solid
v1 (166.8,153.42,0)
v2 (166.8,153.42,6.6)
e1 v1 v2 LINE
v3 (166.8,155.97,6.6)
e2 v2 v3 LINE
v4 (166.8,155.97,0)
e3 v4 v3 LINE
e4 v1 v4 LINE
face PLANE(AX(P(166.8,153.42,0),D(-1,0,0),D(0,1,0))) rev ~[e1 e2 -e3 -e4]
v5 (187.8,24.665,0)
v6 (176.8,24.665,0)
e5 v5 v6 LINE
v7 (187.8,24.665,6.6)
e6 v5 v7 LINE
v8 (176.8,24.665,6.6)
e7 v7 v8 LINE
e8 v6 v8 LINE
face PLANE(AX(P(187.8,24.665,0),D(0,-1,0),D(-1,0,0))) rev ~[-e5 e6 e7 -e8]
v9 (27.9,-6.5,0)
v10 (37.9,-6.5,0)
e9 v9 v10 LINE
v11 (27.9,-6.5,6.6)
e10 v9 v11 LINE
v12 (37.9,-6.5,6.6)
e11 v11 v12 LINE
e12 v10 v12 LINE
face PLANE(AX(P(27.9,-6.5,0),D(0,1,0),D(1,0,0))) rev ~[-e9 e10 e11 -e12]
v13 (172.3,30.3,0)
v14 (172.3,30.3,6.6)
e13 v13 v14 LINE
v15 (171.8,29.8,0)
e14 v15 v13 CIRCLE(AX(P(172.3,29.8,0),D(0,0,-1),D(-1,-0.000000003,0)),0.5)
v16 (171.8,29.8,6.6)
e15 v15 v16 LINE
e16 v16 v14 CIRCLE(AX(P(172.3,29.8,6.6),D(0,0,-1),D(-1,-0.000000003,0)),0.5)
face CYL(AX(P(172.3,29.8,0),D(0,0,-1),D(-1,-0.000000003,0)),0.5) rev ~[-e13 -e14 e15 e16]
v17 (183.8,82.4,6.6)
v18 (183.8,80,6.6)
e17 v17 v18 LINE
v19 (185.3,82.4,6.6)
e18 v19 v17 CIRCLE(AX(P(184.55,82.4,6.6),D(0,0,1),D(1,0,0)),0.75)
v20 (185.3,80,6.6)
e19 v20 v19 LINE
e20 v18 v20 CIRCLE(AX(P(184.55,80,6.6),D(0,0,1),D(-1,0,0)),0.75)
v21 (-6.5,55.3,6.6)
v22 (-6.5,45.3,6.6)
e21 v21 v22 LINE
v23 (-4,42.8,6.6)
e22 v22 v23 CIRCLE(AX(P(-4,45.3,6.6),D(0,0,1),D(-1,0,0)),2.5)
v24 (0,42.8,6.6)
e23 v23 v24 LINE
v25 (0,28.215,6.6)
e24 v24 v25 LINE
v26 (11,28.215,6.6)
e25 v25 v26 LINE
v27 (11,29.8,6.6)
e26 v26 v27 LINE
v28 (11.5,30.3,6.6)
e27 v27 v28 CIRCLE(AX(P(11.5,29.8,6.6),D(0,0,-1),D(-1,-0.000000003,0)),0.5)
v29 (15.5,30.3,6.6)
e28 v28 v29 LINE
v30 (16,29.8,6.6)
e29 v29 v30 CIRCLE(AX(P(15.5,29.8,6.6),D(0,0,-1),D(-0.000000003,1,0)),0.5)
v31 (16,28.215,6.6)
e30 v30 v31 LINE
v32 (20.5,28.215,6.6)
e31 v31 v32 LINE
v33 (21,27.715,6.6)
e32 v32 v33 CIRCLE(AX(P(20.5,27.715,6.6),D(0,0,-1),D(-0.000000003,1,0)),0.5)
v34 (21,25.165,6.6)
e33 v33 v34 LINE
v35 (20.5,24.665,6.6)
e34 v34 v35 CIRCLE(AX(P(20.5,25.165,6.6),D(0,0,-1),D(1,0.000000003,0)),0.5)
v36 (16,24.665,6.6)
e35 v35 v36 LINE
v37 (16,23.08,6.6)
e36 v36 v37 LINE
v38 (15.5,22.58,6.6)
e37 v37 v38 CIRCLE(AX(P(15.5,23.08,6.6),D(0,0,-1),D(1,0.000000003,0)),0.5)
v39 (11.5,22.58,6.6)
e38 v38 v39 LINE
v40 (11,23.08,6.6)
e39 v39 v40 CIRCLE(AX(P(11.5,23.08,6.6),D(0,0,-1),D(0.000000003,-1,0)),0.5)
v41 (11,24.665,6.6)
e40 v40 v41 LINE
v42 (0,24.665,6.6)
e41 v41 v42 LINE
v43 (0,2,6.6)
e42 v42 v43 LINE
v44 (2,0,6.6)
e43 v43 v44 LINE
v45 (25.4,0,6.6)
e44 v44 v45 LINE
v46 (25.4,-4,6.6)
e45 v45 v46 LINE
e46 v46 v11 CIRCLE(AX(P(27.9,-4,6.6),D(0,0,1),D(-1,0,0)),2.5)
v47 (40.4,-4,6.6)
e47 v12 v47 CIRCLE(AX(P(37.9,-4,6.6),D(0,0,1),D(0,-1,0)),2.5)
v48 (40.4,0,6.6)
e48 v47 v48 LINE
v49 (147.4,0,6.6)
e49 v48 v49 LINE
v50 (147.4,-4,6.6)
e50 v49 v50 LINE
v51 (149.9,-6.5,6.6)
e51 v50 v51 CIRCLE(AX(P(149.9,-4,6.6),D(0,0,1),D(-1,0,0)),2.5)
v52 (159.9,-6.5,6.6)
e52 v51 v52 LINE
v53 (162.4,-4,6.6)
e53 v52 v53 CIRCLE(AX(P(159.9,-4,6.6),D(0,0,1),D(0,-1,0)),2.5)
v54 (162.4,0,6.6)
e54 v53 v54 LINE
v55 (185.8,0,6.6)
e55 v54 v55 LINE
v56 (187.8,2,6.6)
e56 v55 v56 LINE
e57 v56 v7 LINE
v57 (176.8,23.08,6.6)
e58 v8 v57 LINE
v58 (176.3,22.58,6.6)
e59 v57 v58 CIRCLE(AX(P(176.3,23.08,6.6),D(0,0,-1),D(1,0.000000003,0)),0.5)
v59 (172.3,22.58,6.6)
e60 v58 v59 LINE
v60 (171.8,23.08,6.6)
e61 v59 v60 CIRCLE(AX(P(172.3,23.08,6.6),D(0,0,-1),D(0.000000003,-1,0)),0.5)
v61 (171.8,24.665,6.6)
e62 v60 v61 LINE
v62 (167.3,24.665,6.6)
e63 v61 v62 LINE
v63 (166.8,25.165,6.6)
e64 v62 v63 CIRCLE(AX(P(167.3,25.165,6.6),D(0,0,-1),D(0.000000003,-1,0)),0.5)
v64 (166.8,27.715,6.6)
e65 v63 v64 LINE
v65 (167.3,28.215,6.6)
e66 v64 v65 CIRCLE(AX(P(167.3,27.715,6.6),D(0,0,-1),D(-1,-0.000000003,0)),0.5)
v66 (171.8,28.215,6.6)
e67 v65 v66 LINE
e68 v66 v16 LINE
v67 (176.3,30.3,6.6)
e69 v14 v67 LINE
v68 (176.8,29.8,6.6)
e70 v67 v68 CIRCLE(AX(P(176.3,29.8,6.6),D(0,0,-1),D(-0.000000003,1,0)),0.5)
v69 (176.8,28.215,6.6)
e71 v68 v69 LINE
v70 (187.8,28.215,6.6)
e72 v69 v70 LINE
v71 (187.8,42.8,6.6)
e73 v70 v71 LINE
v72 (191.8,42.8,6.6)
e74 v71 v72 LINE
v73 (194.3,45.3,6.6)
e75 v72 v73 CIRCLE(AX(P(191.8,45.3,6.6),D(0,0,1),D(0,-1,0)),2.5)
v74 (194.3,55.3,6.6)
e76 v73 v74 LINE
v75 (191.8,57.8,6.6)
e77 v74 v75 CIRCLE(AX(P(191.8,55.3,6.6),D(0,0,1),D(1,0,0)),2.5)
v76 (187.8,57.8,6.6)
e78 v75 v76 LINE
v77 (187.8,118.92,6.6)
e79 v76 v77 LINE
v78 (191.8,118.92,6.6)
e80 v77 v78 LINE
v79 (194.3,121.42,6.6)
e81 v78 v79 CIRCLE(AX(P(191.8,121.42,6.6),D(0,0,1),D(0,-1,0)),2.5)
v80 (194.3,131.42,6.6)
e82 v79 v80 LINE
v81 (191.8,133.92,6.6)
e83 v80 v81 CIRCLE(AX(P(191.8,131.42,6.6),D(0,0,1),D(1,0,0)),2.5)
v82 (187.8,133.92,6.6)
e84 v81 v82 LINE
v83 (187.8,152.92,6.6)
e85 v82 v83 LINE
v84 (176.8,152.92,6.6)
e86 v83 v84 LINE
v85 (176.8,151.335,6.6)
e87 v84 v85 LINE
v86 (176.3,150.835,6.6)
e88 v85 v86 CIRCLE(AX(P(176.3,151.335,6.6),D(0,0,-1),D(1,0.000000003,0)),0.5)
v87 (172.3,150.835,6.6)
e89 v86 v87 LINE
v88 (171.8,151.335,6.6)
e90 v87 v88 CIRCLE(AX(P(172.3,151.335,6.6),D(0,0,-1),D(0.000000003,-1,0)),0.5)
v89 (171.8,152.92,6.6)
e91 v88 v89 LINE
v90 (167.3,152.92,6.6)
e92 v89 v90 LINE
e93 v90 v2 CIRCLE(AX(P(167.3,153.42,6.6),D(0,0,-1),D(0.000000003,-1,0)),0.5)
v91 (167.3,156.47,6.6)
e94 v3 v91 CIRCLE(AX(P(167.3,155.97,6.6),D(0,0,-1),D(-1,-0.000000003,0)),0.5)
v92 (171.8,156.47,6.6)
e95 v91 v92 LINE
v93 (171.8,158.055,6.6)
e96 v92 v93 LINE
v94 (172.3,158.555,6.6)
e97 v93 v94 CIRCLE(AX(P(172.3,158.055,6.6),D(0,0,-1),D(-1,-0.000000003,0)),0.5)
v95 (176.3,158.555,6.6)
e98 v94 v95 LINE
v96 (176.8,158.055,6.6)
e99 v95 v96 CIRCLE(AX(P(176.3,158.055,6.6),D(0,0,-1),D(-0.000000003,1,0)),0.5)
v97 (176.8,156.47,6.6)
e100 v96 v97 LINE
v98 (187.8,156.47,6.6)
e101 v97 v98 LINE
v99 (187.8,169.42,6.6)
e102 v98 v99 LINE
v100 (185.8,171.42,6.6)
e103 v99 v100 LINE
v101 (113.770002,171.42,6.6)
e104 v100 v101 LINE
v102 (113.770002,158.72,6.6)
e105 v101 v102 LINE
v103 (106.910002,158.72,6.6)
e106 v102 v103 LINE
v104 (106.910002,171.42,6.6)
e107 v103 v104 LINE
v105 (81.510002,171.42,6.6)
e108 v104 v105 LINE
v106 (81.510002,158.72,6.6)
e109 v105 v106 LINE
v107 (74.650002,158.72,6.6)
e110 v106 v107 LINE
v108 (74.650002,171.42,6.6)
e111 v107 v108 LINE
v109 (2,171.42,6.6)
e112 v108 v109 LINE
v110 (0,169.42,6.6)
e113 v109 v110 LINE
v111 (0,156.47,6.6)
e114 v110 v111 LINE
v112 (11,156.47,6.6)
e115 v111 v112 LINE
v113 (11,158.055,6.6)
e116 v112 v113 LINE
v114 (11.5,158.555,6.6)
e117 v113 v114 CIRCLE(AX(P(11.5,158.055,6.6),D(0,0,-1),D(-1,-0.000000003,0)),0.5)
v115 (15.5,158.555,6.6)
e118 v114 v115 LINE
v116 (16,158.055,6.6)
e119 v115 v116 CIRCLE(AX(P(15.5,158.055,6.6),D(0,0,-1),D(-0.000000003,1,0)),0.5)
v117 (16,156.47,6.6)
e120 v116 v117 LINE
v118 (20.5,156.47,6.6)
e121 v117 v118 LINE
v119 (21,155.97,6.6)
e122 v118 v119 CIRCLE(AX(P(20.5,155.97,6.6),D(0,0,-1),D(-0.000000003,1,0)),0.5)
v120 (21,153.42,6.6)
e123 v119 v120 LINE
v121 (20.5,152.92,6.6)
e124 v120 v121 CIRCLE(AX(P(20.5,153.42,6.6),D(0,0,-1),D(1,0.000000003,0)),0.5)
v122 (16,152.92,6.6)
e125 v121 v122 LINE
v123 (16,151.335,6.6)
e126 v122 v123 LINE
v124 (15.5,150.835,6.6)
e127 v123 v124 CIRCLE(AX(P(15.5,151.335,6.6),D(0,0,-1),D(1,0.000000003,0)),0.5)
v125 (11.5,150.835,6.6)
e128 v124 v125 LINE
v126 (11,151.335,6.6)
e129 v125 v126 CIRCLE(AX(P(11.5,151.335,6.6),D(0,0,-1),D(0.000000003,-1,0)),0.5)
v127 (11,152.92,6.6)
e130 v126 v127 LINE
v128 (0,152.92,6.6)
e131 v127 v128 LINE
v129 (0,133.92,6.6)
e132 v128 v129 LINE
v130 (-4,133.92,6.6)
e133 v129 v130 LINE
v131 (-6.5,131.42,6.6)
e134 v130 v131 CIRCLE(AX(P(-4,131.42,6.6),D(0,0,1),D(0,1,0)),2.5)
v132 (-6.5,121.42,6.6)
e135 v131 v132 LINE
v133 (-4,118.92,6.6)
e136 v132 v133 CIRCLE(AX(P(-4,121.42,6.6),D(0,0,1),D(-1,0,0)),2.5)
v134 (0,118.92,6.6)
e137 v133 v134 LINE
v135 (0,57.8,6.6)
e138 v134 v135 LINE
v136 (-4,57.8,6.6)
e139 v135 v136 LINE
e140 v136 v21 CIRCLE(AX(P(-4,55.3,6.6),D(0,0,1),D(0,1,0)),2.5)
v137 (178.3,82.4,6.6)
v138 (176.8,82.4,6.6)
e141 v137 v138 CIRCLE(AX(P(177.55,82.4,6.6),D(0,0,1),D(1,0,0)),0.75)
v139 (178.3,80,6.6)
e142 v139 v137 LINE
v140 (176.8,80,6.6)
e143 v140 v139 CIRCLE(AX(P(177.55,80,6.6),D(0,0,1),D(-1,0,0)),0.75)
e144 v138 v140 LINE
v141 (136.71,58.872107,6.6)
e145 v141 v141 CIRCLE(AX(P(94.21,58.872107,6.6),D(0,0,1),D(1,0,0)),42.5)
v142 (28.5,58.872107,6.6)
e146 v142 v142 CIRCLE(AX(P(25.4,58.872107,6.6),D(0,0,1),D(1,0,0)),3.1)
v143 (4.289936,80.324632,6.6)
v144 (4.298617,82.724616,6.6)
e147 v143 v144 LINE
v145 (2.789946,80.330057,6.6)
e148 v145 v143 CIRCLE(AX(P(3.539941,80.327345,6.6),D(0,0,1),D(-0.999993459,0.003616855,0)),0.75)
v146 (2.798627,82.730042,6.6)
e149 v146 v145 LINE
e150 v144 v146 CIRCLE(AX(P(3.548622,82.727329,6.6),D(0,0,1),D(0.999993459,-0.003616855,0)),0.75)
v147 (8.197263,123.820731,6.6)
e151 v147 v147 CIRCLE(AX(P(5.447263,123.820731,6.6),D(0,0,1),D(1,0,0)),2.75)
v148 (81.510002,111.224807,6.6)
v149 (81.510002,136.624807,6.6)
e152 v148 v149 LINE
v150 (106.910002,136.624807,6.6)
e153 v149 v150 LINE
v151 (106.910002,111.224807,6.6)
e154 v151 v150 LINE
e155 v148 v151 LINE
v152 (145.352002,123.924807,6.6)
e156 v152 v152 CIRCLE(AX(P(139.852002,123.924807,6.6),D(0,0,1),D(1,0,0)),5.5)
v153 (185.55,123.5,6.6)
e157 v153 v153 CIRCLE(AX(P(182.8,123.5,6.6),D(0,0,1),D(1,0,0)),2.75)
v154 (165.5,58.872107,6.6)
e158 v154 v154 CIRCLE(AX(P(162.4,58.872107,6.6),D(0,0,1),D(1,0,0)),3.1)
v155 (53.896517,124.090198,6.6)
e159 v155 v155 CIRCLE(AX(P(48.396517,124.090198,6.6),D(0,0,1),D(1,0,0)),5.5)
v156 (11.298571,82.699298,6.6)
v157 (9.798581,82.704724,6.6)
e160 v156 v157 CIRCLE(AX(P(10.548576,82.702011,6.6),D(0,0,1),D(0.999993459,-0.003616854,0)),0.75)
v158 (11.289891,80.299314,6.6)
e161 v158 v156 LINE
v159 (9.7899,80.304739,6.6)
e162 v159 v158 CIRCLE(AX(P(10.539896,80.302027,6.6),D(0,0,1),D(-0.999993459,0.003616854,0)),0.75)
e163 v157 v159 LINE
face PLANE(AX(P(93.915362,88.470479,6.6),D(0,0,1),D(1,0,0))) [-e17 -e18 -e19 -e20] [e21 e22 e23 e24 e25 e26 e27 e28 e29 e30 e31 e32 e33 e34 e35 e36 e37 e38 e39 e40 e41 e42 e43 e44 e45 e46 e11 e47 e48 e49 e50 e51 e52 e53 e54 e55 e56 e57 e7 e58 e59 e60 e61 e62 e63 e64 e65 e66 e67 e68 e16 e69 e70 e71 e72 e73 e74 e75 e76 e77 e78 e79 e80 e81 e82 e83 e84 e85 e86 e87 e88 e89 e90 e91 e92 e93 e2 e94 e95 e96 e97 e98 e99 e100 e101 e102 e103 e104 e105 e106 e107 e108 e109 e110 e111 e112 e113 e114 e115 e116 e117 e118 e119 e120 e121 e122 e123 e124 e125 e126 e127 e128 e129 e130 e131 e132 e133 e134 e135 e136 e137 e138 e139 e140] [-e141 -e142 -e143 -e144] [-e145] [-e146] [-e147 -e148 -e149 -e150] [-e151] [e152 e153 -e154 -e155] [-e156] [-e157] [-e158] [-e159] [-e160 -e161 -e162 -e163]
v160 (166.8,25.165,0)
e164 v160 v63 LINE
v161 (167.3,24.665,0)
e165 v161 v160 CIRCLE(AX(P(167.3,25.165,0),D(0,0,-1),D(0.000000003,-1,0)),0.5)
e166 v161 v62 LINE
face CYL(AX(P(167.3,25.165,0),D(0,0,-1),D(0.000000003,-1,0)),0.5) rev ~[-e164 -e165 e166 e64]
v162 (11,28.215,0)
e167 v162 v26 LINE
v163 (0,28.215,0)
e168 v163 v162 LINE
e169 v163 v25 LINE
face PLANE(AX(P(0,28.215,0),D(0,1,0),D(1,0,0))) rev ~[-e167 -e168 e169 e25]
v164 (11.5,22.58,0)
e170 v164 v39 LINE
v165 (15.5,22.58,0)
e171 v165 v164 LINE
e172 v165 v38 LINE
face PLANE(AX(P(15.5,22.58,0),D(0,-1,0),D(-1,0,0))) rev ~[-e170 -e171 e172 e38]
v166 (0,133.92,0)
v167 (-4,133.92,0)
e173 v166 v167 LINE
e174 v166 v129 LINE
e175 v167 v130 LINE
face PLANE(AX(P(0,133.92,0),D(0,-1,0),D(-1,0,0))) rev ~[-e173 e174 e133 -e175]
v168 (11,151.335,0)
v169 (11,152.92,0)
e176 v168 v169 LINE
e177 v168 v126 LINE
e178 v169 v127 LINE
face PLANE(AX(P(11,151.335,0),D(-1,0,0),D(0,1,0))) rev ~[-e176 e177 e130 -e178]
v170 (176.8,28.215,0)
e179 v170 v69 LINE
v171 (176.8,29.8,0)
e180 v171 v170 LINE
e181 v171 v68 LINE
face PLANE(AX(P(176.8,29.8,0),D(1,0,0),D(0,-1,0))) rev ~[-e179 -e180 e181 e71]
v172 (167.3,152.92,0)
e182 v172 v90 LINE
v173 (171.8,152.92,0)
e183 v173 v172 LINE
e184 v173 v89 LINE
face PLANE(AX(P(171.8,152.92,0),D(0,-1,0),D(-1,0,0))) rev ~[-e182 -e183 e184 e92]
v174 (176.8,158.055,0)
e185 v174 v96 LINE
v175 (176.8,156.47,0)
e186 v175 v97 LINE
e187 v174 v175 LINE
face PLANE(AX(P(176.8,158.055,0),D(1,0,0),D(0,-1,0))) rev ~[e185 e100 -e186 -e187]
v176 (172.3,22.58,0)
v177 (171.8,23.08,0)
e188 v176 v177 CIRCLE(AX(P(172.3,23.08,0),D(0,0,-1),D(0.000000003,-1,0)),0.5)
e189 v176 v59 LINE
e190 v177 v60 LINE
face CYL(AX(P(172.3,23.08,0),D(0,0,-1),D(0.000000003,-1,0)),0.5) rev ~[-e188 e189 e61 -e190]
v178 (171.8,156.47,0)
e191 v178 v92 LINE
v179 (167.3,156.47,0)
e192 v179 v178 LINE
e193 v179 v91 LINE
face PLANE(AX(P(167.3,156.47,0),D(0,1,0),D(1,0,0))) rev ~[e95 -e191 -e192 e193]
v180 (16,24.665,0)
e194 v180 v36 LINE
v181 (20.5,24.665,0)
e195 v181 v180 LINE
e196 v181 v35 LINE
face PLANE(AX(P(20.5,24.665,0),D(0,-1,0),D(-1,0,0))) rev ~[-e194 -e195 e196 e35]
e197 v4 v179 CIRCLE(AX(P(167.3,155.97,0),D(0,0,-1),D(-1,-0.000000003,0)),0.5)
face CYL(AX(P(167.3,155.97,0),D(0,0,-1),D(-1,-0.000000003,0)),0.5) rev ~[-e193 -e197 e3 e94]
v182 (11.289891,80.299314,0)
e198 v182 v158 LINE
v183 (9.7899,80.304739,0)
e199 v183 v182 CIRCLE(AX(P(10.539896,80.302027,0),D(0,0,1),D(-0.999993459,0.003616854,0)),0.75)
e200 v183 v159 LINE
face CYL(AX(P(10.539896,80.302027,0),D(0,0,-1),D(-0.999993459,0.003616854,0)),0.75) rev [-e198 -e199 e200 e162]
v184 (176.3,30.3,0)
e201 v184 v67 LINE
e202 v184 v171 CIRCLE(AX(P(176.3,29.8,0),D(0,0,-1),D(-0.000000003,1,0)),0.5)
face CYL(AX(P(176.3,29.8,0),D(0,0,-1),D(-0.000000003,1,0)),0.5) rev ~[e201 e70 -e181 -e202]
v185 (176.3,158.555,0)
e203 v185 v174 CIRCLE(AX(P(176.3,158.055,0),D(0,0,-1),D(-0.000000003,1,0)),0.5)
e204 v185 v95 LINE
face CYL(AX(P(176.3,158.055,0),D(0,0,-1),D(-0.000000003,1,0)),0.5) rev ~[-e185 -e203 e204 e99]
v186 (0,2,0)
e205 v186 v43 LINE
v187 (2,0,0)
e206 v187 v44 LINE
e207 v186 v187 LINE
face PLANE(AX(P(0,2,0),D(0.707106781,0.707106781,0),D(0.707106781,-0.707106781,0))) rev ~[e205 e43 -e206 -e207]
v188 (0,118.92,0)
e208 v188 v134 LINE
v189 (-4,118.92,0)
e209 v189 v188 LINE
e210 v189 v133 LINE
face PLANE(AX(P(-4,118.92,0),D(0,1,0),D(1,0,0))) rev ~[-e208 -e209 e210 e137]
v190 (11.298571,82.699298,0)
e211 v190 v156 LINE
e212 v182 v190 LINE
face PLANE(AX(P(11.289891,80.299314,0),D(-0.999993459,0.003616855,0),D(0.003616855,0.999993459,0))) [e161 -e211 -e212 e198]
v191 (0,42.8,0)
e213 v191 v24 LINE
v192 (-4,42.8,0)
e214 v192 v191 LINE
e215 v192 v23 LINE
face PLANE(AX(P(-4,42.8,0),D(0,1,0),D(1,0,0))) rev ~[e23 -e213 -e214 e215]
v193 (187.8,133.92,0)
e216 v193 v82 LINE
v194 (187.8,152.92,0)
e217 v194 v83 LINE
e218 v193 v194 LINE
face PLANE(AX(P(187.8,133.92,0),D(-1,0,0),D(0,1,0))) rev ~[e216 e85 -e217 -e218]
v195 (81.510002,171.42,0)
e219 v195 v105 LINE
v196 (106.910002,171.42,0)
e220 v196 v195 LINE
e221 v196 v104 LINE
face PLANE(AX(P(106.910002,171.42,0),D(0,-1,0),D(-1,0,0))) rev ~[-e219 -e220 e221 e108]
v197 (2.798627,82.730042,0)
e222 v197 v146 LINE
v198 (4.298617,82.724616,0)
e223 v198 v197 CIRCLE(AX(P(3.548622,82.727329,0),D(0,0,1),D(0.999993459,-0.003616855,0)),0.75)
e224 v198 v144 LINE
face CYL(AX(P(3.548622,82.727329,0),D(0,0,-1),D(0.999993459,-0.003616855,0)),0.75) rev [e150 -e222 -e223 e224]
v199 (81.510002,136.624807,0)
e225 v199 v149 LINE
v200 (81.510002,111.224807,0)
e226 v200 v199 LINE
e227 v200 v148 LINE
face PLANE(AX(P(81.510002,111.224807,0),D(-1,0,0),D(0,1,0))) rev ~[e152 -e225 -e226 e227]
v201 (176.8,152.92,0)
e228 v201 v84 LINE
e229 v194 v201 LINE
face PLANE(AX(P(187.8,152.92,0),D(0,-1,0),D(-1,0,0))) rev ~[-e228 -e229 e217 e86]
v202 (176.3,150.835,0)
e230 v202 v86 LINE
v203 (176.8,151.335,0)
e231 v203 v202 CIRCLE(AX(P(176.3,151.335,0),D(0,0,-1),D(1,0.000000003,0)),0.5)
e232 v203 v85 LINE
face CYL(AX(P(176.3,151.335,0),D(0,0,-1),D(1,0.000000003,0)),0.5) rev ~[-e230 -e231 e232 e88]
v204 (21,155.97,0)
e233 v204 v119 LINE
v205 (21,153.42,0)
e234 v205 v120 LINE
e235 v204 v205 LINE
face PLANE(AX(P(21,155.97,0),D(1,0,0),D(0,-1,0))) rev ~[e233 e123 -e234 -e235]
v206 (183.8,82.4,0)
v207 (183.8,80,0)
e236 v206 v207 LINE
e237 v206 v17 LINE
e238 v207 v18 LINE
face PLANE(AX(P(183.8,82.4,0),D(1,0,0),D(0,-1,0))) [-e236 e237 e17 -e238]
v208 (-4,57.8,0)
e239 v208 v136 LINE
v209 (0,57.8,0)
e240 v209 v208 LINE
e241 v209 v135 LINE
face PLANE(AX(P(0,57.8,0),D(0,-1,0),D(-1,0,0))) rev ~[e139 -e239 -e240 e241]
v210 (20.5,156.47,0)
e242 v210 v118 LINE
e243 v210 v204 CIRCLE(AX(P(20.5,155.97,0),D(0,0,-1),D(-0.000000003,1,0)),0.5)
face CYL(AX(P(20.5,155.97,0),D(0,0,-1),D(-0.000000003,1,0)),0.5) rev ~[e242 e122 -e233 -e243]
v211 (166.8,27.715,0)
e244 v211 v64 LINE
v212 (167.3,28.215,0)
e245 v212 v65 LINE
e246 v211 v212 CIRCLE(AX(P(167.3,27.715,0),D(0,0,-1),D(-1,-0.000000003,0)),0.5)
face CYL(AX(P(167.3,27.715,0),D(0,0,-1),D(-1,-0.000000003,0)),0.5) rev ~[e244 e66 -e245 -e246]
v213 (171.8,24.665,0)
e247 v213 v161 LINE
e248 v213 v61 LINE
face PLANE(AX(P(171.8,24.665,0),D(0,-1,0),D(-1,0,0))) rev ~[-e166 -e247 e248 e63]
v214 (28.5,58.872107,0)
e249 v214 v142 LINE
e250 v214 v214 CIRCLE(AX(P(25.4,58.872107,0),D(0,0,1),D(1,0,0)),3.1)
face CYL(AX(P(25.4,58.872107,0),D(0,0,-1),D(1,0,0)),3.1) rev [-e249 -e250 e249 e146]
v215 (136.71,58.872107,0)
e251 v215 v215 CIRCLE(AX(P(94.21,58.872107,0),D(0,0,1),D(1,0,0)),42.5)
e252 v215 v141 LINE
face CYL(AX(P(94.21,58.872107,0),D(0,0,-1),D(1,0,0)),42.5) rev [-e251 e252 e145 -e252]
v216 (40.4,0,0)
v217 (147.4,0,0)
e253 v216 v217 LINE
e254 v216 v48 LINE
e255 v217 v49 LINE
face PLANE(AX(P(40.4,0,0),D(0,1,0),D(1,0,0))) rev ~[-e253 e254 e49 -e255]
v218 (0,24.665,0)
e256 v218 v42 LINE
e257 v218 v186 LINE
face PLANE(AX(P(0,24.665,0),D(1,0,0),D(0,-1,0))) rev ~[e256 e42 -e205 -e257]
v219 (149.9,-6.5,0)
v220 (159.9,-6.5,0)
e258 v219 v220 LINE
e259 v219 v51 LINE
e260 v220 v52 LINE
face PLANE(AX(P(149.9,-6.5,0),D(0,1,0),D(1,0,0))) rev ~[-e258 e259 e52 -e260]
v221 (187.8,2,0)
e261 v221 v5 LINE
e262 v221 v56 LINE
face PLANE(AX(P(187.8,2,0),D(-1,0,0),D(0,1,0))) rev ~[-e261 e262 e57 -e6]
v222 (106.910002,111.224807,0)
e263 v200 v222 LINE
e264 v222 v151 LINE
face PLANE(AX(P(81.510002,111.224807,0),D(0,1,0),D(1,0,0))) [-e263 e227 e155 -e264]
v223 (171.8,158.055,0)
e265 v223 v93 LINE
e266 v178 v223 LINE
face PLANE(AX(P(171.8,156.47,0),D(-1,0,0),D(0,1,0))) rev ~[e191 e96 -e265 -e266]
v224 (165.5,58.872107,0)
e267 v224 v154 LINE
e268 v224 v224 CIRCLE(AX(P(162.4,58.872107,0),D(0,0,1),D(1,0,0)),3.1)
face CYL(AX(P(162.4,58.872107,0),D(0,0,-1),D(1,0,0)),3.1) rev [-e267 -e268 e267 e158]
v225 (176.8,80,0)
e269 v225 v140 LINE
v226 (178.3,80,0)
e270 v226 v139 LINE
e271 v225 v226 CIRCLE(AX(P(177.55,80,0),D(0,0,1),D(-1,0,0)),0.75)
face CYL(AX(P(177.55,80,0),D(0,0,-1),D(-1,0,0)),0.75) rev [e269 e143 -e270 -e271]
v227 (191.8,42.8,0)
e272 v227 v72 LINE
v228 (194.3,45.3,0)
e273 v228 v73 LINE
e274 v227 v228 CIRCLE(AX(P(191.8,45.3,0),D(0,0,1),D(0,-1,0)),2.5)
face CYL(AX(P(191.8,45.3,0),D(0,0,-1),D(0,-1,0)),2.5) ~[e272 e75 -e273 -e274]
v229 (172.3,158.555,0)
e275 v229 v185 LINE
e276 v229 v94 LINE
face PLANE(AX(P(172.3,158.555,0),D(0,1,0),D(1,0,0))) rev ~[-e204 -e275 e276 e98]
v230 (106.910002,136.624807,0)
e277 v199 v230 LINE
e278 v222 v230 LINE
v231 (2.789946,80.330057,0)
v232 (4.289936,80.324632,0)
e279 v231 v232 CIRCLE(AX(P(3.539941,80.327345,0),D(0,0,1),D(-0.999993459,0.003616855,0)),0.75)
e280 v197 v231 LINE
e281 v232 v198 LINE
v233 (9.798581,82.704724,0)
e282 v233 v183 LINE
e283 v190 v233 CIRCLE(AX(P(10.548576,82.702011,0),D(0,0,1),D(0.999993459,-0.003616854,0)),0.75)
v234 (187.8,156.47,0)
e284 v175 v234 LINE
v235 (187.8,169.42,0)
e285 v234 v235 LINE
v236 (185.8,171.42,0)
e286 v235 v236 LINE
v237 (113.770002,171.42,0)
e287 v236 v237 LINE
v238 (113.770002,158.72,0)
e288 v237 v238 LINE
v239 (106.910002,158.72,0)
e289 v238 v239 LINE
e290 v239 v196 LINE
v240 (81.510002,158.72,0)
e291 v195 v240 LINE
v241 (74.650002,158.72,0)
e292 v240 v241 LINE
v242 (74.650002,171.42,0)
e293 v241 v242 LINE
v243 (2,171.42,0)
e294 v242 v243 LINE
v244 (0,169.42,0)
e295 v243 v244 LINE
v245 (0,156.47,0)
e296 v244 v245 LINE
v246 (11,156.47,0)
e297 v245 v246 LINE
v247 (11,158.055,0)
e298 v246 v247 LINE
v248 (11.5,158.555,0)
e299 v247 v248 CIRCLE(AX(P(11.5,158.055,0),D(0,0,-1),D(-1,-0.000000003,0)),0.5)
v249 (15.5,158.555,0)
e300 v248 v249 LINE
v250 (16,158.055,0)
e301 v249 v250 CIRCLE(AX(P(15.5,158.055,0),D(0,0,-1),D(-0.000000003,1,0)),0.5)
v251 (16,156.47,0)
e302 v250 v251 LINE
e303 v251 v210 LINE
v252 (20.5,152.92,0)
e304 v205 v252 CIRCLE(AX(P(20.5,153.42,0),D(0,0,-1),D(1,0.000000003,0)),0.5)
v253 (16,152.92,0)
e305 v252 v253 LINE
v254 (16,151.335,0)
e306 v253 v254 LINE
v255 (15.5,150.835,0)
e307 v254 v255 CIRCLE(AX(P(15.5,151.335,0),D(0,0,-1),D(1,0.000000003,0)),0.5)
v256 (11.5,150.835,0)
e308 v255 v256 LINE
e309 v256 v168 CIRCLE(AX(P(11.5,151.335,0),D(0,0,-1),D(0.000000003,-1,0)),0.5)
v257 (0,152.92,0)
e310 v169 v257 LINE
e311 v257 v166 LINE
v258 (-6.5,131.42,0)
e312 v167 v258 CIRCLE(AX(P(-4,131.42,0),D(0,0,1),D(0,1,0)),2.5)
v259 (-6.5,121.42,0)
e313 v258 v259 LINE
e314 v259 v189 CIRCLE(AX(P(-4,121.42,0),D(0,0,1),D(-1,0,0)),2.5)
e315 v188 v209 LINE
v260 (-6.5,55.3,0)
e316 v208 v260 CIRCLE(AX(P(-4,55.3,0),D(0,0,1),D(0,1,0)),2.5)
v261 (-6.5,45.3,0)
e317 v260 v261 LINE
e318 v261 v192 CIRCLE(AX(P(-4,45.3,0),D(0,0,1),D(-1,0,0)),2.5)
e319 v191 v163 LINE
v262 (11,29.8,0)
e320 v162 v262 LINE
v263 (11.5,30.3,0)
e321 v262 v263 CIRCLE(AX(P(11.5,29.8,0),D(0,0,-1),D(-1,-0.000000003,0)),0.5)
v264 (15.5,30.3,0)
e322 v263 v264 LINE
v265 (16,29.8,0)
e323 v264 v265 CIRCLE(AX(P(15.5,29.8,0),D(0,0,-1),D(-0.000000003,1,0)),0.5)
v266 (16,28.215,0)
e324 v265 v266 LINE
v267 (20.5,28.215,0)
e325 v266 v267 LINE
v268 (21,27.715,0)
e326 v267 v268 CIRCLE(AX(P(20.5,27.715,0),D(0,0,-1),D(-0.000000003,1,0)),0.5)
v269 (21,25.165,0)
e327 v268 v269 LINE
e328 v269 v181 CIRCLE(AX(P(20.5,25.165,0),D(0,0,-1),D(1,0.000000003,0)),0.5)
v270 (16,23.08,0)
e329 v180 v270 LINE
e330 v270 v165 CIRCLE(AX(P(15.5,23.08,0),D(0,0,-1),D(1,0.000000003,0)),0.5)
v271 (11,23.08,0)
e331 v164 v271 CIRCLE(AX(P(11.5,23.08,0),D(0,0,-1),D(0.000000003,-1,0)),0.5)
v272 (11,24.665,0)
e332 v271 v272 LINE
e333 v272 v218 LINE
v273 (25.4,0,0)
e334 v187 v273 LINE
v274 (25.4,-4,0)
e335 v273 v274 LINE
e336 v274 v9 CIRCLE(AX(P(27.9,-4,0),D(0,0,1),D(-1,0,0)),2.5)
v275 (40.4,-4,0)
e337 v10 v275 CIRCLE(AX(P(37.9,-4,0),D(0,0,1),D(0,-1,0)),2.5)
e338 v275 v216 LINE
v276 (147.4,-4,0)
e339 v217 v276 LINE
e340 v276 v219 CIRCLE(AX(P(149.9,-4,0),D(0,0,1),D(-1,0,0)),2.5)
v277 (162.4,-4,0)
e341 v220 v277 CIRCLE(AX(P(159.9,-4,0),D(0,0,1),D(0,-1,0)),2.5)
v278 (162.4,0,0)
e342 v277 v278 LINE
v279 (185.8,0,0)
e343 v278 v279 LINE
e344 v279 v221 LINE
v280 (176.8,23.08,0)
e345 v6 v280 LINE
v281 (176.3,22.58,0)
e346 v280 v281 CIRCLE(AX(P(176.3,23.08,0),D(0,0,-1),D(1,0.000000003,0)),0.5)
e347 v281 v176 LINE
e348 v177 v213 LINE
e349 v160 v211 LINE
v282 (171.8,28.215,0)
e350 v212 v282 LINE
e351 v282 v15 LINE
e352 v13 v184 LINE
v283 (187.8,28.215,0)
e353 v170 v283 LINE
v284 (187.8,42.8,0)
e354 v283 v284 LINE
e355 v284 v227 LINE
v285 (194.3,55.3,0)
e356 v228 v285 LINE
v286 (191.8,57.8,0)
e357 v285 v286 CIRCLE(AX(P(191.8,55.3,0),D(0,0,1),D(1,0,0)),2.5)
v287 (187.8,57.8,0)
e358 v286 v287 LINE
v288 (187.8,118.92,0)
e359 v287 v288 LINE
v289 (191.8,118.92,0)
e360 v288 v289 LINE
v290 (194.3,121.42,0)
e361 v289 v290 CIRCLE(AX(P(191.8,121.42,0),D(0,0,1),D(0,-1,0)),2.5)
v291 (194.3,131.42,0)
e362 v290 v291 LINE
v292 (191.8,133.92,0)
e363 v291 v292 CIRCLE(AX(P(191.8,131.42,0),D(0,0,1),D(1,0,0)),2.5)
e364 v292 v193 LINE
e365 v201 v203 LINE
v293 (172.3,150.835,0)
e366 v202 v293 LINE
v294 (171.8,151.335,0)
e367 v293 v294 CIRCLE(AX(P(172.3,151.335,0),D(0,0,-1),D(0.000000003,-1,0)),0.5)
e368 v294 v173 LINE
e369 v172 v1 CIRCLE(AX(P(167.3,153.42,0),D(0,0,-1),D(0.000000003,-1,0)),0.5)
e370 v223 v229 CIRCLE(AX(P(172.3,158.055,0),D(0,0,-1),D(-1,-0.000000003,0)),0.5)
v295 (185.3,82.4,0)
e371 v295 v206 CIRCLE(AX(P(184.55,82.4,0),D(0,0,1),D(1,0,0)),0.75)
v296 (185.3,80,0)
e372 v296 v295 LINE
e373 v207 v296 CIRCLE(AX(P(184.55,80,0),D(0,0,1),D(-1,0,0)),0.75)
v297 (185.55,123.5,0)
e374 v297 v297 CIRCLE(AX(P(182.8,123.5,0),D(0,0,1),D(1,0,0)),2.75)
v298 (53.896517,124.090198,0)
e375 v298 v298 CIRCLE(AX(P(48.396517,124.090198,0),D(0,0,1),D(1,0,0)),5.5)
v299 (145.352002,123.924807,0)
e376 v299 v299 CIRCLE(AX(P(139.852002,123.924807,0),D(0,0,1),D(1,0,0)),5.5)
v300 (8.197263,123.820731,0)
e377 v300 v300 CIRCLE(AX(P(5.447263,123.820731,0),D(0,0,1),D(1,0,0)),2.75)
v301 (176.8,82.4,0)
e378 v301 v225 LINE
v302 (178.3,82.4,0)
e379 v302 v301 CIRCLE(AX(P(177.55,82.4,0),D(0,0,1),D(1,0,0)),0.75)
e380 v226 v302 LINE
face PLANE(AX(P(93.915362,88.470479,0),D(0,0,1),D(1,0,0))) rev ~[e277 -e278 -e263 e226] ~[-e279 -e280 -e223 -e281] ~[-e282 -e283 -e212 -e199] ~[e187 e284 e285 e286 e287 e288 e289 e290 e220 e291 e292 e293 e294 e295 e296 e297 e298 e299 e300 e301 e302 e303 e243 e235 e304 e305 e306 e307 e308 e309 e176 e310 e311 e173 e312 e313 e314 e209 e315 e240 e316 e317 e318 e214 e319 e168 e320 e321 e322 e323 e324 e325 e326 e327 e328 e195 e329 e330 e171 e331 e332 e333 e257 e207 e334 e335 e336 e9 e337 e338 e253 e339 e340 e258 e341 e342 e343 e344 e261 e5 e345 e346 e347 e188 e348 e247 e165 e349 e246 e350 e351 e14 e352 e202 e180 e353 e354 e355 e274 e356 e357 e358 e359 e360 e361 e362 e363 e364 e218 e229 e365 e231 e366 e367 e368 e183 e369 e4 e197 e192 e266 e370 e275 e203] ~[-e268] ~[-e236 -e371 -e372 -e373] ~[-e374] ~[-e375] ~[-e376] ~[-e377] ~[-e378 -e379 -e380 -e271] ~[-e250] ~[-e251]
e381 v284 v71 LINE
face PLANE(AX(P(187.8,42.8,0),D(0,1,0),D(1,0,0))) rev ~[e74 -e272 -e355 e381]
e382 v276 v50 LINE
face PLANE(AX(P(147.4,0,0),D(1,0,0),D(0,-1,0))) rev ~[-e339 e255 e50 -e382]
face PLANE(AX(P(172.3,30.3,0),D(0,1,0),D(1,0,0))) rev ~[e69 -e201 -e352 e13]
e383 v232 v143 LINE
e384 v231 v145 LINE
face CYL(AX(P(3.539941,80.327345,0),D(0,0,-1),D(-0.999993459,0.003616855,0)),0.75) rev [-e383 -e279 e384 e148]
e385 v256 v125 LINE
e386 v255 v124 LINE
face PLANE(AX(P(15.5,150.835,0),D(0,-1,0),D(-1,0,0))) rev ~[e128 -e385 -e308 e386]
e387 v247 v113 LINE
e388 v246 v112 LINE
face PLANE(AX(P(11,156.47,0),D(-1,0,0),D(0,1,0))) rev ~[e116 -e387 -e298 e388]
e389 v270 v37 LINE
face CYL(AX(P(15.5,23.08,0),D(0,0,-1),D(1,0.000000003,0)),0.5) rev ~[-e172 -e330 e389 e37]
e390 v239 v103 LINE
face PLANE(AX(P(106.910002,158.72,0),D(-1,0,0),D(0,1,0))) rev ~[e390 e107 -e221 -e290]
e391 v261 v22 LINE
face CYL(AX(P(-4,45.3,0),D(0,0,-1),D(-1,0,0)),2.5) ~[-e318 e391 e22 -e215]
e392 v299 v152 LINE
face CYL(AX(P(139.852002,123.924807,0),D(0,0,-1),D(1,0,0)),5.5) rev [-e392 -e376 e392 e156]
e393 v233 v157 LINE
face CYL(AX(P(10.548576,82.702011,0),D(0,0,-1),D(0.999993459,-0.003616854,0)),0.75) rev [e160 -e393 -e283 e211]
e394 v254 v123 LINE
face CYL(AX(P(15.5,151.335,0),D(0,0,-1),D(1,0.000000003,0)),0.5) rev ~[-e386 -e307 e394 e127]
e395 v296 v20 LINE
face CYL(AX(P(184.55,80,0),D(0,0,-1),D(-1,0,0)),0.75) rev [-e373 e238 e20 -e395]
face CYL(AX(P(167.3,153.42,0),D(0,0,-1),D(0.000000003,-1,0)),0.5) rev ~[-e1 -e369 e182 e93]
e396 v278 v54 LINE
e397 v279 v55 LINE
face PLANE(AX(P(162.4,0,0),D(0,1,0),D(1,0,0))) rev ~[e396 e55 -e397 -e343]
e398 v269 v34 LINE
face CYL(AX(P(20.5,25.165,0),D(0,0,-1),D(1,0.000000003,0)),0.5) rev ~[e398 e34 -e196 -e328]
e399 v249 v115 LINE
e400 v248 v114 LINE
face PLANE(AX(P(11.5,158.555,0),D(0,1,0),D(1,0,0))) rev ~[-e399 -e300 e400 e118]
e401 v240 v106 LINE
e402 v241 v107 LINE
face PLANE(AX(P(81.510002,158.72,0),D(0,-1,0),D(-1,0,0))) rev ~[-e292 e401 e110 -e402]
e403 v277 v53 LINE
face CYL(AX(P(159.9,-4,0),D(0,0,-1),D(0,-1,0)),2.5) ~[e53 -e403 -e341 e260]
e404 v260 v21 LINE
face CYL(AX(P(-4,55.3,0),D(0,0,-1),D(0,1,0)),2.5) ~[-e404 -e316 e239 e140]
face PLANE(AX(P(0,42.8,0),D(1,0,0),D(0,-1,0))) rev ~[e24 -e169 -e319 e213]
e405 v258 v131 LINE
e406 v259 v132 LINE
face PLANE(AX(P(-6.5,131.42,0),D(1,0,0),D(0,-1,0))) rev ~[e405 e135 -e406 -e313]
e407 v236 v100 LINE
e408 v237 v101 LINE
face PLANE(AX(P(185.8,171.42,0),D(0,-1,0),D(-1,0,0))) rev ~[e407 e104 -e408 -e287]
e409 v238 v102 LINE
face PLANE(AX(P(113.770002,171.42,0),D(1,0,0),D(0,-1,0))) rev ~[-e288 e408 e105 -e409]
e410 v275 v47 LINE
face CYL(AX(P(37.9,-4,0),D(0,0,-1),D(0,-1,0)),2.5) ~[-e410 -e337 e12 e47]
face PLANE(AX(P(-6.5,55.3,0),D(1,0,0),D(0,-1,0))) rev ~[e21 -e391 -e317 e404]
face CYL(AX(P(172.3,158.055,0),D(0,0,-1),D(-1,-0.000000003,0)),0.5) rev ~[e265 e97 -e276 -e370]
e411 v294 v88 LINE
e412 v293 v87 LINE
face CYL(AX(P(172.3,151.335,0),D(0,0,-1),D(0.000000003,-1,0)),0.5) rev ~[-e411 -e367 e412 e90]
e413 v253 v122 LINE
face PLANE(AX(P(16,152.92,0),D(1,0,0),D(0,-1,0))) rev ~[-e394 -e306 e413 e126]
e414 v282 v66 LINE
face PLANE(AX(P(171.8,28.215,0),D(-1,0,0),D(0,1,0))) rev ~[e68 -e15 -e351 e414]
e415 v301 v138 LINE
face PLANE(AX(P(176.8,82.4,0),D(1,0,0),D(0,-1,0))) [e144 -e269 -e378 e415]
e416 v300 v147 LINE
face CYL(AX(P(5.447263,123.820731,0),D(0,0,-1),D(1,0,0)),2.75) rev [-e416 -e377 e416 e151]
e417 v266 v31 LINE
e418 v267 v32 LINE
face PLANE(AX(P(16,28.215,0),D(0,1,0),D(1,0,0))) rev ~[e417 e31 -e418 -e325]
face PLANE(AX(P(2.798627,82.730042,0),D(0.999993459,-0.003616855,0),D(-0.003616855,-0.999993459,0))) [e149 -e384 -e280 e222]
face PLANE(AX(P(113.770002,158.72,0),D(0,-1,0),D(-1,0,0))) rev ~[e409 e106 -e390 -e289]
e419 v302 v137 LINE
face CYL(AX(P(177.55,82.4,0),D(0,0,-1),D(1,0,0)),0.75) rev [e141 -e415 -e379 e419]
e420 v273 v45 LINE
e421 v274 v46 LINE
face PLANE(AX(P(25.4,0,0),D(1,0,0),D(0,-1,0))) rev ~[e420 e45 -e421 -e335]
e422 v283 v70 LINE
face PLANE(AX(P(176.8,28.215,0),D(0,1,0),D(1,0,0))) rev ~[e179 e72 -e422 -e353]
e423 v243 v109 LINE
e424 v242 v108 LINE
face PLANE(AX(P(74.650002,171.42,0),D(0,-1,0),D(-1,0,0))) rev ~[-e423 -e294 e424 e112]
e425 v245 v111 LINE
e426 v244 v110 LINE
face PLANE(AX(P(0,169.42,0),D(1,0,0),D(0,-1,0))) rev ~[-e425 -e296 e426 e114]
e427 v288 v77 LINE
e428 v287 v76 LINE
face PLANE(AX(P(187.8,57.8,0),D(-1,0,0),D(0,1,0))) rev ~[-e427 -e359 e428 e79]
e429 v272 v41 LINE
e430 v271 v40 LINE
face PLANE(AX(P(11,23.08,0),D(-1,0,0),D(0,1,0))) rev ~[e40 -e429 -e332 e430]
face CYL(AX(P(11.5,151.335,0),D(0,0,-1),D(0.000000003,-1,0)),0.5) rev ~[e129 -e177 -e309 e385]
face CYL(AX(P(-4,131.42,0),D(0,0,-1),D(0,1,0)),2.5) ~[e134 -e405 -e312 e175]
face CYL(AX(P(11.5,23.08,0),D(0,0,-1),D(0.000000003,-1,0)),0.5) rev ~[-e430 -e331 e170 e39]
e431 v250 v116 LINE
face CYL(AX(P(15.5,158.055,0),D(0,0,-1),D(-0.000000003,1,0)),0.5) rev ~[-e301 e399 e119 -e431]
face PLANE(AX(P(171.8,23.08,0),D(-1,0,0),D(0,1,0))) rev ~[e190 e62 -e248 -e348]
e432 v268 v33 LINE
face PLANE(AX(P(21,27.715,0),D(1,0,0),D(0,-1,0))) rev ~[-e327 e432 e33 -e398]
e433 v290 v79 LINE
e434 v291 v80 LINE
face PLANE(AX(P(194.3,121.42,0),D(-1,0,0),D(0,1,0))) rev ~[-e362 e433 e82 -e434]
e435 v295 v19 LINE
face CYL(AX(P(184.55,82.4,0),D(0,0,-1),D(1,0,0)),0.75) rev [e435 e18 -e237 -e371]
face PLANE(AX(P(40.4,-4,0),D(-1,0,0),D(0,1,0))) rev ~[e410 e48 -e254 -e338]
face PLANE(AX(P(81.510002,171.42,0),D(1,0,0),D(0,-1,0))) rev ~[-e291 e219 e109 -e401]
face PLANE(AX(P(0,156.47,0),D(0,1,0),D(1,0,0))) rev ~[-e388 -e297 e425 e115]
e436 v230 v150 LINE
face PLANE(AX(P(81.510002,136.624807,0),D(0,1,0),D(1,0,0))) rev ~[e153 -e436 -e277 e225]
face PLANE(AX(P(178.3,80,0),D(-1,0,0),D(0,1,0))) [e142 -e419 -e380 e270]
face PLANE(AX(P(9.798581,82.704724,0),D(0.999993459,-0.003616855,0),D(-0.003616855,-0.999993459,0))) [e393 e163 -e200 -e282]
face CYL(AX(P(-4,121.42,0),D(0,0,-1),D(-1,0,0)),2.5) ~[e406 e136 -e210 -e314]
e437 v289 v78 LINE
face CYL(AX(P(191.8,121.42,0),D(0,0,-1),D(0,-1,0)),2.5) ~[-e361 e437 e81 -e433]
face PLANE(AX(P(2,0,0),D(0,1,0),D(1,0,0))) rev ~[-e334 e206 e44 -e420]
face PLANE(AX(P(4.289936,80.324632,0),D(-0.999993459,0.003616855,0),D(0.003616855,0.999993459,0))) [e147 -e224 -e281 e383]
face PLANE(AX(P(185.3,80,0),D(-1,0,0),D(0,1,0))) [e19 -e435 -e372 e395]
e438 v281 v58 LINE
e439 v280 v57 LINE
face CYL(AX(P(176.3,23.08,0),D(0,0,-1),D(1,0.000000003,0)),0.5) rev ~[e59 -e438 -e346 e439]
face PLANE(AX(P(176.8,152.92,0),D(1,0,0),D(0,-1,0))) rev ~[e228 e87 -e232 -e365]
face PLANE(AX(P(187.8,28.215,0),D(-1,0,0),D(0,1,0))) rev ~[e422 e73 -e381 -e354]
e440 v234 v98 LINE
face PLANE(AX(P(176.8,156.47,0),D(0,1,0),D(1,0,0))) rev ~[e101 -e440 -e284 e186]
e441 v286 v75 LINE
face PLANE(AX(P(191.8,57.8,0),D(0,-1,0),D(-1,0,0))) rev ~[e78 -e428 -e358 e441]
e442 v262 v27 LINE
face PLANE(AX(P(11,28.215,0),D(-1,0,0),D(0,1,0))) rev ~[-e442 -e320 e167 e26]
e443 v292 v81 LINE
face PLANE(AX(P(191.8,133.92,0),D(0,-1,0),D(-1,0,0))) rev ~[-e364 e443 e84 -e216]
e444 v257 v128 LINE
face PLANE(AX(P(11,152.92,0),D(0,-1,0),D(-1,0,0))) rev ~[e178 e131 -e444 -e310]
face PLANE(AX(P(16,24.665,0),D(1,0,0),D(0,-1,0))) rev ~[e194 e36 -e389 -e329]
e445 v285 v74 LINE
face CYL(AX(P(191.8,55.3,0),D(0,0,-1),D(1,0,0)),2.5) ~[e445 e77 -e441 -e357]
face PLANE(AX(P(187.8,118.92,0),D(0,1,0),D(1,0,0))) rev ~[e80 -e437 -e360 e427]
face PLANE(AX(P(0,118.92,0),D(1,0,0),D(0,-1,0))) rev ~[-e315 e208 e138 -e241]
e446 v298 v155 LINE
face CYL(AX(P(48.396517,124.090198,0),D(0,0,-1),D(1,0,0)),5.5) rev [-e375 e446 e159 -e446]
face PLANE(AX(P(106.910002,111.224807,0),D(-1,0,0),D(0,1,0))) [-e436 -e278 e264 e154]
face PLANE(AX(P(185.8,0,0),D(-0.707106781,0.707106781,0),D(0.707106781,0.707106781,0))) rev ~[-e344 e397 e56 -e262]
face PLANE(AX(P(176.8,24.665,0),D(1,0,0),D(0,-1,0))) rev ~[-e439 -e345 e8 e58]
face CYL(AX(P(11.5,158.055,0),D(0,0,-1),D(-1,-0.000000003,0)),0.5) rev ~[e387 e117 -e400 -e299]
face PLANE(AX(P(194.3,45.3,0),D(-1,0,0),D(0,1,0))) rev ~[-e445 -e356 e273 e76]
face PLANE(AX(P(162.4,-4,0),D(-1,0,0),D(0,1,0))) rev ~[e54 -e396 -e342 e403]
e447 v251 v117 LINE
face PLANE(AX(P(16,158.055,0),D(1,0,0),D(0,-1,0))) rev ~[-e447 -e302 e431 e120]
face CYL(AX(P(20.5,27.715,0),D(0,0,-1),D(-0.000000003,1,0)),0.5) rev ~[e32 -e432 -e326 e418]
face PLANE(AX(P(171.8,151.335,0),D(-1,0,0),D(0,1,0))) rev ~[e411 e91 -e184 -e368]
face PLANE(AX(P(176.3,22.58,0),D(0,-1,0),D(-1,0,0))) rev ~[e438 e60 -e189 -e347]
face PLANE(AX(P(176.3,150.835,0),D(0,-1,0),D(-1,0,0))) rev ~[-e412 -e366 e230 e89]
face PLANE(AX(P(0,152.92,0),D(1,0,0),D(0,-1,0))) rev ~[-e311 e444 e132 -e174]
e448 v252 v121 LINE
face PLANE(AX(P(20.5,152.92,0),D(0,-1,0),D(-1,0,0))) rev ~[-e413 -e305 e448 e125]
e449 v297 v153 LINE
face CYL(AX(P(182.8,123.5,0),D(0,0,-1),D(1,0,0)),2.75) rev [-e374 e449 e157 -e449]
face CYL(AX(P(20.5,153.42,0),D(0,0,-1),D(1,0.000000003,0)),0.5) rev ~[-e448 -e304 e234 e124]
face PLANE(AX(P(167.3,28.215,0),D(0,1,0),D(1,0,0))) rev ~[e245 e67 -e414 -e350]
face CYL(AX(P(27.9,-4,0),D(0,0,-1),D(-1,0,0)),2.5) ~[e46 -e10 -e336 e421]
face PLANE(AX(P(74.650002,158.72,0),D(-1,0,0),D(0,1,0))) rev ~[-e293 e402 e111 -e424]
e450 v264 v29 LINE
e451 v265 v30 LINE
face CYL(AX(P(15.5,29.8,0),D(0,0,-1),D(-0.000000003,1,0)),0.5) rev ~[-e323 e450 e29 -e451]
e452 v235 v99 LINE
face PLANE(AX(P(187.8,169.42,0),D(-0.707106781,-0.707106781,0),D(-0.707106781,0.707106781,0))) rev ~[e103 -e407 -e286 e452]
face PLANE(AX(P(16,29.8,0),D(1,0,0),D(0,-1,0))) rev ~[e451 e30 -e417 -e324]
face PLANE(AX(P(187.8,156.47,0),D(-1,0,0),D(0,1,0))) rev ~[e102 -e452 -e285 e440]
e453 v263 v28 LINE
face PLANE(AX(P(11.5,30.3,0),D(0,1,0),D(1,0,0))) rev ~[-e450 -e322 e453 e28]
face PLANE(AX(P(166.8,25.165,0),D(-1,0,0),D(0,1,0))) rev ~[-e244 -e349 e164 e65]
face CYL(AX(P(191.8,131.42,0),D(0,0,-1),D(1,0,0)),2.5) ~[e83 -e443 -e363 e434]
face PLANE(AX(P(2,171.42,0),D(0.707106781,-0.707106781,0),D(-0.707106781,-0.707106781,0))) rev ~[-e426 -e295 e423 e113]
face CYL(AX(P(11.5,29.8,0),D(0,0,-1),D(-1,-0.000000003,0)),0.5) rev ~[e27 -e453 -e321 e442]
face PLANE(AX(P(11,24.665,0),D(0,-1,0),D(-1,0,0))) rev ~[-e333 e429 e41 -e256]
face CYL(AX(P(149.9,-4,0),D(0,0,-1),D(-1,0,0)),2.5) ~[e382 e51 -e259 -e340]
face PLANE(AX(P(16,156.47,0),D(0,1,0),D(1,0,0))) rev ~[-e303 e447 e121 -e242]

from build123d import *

# Parameters (mm, degrees)
MODEL_R             = 42.5
MODEL_R_2           = 5.5
MODEL_R_3           = 2.75
MODEL_R_4           = 3.1
MODEL_W             = 25.4
MODEL_H             = 25.4
BOSS_EXTRUDE1_DEPTH = 6.6


with BuildPart() as part:
    # Model → Boss-Extrude1 (new body)
    with BuildSketch(Plane.XY):
        with BuildLine():
            Line((187.8, 2), (187.8, 24.665))
            Line((187.8, 24.665), (176.8, 24.665))
            Line((176.8, 24.665), (176.8, 23.08))
            ThreePointArc((176.8, 23.08), (176.653553391, 22.726446609), (176.3, 22.58))
            Line((176.3, 22.58), (172.3, 22.58))
            ThreePointArc((172.3, 22.58), (171.946446609, 22.726446609), (171.8, 23.08))
            Line((171.8, 23.08), (171.8, 24.665))
            Line((171.8, 24.665), (167.3, 24.665))
            ThreePointArc((167.3, 24.665), (166.946446609, 24.811446609), (166.8, 25.165))
            Line((166.8, 25.165), (166.8, 27.715))
            ThreePointArc((166.8, 27.715), (166.946446609, 28.068553391), (167.3, 28.215))
            Line((167.3, 28.215), (171.8, 28.215))
            Line((171.8, 28.215), (171.8, 29.8))
            ThreePointArc((171.8, 29.8), (171.946446609, 30.153553391), (172.3, 30.3))
            Line((172.3, 30.3), (176.3, 30.3))
            ThreePointArc((176.3, 30.3), (176.653553391, 30.153553391), (176.8, 29.8))
            Line((176.8, 29.8), (176.8, 28.215))
            Line((176.8, 28.215), (187.8, 28.215))
            Line((187.8, 28.215), (187.8, 42.8))
            Line((187.8, 42.8), (191.8, 42.8))
            ThreePointArc((191.8, 42.8), (193.567766953, 43.532233047), (194.3, 45.3))
            Line((194.3, 45.3), (194.3, 55.3))
            ThreePointArc((194.3, 55.3), (193.567766953, 57.067766953), (191.8, 57.8))
            Line((191.8, 57.8), (187.8, 57.8))
            Line((187.8, 57.8), (187.8, 118.92))
            Line((187.8, 118.92), (191.8, 118.92))
            ThreePointArc((191.8, 118.92), (193.567766953, 119.652233047), (194.3, 121.42))
            Line((194.3, 121.42), (194.3, 131.42))
            ThreePointArc((194.3, 131.42), (193.567766953, 133.187766953), (191.8, 133.92))
            Line((191.8, 133.92), (187.8, 133.92))
            Line((187.8, 133.92), (187.8, 152.92))
            Line((187.8, 152.92), (176.8, 152.92))
            Line((176.8, 152.92), (176.8, 151.335))
            ThreePointArc((176.8, 151.335), (176.653553391, 150.981446609), (176.3, 150.835))
            Line((176.3, 150.835), (172.3, 150.835))
            ThreePointArc((172.3, 150.835), (171.946446609, 150.981446609), (171.8, 151.335))
            Line((171.8, 151.335), (171.8, 152.92))
            Line((171.8, 152.92), (167.3, 152.92))
            ThreePointArc((167.3, 152.92), (166.946446609, 153.066446609), (166.8, 153.42))
            Line((166.8, 153.42), (166.8, 155.97))
            ThreePointArc((166.8, 155.97), (166.946446609, 156.323553391), (167.3, 156.47))
            Line((167.3, 156.47), (171.8, 156.47))
            Line((171.8, 156.47), (171.8, 158.055))
            ThreePointArc((171.8, 158.055), (171.946446609, 158.408553391), (172.3, 158.555))
            Line((172.3, 158.555), (176.3, 158.555))
            ThreePointArc((176.3, 158.555), (176.653553391, 158.408553391), (176.8, 158.055))
            Line((176.8, 158.055), (176.8, 156.47))
            Line((176.8, 156.47), (187.8, 156.47))
            Line((187.8, 156.47), (187.8, 169.42))
            Line((187.8, 169.42), (185.8, 171.42))
            Line((185.8, 171.42), (113.770001664, 171.42))
            Line((113.770001664, 171.42), (113.770001664, 158.72))
            Line((113.770001664, 158.72), (106.910001664, 158.72))
            Line((106.910001664, 158.72), (106.910001664, 171.42))
            Line((106.910001664, 171.42), (81.510001665, 171.42))
            Line((81.510001665, 171.42), (81.510001665, 158.72))
            Line((81.510001665, 158.72), (74.650001665, 158.72))
            Line((74.650001665, 158.72), (74.650001665, 171.42))
            Line((74.650001665, 171.42), (2, 171.42))
            Line((2, 171.42), (0, 169.42))
            Line((0, 169.42), (0, 156.47))
            Line((0, 156.47), (11, 156.47))
            Line((11, 156.47), (11, 158.055))
            ThreePointArc((11, 158.055), (11.146446609, 158.408553391), (11.5, 158.555))
            Line((11.5, 158.555), (15.5, 158.555))
            ThreePointArc((15.5, 158.555), (15.853553391, 158.408553391), (16, 158.055))
            Line((16, 158.055), (16, 156.47))
            Line((16, 156.47), (20.5, 156.47))
            ThreePointArc((20.5, 156.47), (20.853553391, 156.323553391), (21, 155.97))
            Line((21, 155.97), (21, 153.42))
            ThreePointArc((21, 153.42), (20.853553391, 153.066446609), (20.5, 152.92))
            Line((20.5, 152.92), (16, 152.92))
            Line((16, 152.92), (16, 151.335))
            ThreePointArc((16, 151.335), (15.853553391, 150.981446609), (15.5, 150.835))
            Line((15.5, 150.835), (11.5, 150.835))
            ThreePointArc((11.5, 150.835), (11.146446609, 150.981446609), (11, 151.335))
            Line((11, 151.335), (11, 152.92))
            Line((11, 152.92), (0, 152.92))
            Line((0, 152.92), (0, 133.92))
            Line((0, 133.92), (-4, 133.92))
            ThreePointArc((-4, 133.92), (-5.767766953, 133.187766953), (-6.5, 131.42))
            Line((-6.5, 131.42), (-6.5, 121.42))
            ThreePointArc((-6.5, 121.42), (-5.767766953, 119.652233047), (-4, 118.92))
            Line((-4, 118.92), (0, 118.92))
            Line((0, 118.92), (0, 57.8))
            Line((0, 57.8), (-4, 57.8))
            ThreePointArc((-4, 57.8), (-5.767766953, 57.067766953), (-6.5, 55.3))
            Line((-6.5, 55.3), (-6.5, 45.3))
            ThreePointArc((-6.5, 45.3), (-5.767766953, 43.532233047), (-4, 42.8))
            Line((-4, 42.8), (0, 42.8))
            Line((0, 42.8), (0, 28.215))
            Line((0, 28.215), (11, 28.215))
            Line((11, 28.215), (11, 29.8))
            ThreePointArc((11, 29.8), (11.146446609, 30.153553391), (11.5, 30.3))
            Line((11.5, 30.3), (15.5, 30.3))
            ThreePointArc((15.5, 30.3), (15.853553391, 30.153553391), (16, 29.8))
            Line((16, 29.8), (16, 28.215))
            Line((16, 28.215), (20.5, 28.215))
            ThreePointArc((20.5, 28.215), (20.853553391, 28.068553391), (21, 27.715))
            Line((21, 27.715), (21, 25.165))
            ThreePointArc((21, 25.165), (20.853553391, 24.811446609), (20.5, 24.665))
            Line((20.5, 24.665), (16, 24.665))
            Line((16, 24.665), (16, 23.08))
            ThreePointArc((16, 23.08), (15.853553391, 22.726446609), (15.5, 22.58))
            Line((15.5, 22.58), (11.5, 22.58))
            ThreePointArc((11.5, 22.58), (11.146446609, 22.726446609), (11, 23.08))
            Line((11, 23.08), (11, 24.665))
            Line((11, 24.665), (0, 24.665))
            Line((0, 24.665), (0, 2))
            Line((0, 2), (2, 0))
            Line((2, 0), (25.4, 0))
            Line((25.4, 0), (25.4, -4))
            ThreePointArc((25.4, -4), (26.132233047, -5.767766953), (27.9, -6.5))
            Line((27.9, -6.5), (37.9, -6.5))
            ThreePointArc((37.9, -6.5), (39.667766953, -5.767766953), (40.4, -4))
            Line((40.4, -4), (40.4, 0))
            Line((40.4, 0), (147.4, 0))
            Line((147.4, 0), (147.4, -4))
            ThreePointArc((147.4, -4), (148.132233047, -5.767766953), (149.9, -6.5))
            Line((149.9, -6.5), (159.9, -6.5))
            ThreePointArc((159.9, -6.5), (161.667766953, -5.767766953), (162.4, -4))
            Line((162.4, -4), (162.4, 0))
            Line((162.4, 0), (185.8, 0))
            Line((185.8, 0), (187.8, 2))
        make_face()
        with Locations((94.21, 58.872106781)):
            Circle(MODEL_R, mode=Mode.SUBTRACT)
        with Locations((139.852001664, 123.924806781)):
            Circle(MODEL_R_2, mode=Mode.SUBTRACT)
        with Locations((48.39651697, 124.09019794)):
            Circle(MODEL_R_2, mode=Mode.SUBTRACT)
        with Locations((182.8, 123.5)):
            Circle(MODEL_R_3, mode=Mode.SUBTRACT)
        with Locations((5.447263086, 123.820730625)):
            Circle(MODEL_R_3, mode=Mode.SUBTRACT)
        with Locations((162.4, 58.872106781)):
            Circle(MODEL_R_4, mode=Mode.SUBTRACT)
        with Locations((25.4, 58.872106781)):
            Circle(MODEL_R_4, mode=Mode.SUBTRACT)
        with Locations((94.210001664, 123.924806781)):
            Rectangle(MODEL_W, MODEL_H, mode=Mode.SUBTRACT)
        with BuildLine():
            Line((183.8, 82.4), (183.8, 80))
            ThreePointArc((183.8, 80), (184.55, 79.25), (185.3, 80))
            Line((185.3, 80), (185.3, 82.4))
            ThreePointArc((185.3, 82.4), (184.55, 83.15), (183.8, 82.4))
        make_face(mode=Mode.SUBTRACT)
        with BuildLine():
            Line((176.8, 82.4), (176.8, 80))
            ThreePointArc((176.8, 80), (177.55, 79.25), (178.3, 80))
            Line((178.3, 80), (178.3, 82.4))
            ThreePointArc((178.3, 82.4), (177.55, 83.15), (176.8, 82.4))
        make_face(mode=Mode.SUBTRACT)
        with BuildLine():
            Line((9.798580907, 82.704723605), (9.789900455, 80.304739303))
            ThreePointArc((9.789900455, 80.304739303), (10.537182908, 79.552031568), (11.289890644, 80.299314021))
            Line((11.289890644, 80.299314021), (11.298571096, 82.699298323))
            ThreePointArc((11.298571096, 82.699298323), (10.551288643, 83.452006058), (9.798580907, 82.704723605))
        make_face(mode=Mode.SUBTRACT)
        with BuildLine():
            Line((2.798626693, 82.730041591), (2.789946241, 80.330057289))
            ThreePointArc((2.789946241, 80.330057289), (3.537228694, 79.577349553), (4.28993643, 80.324632006))
            Line((4.28993643, 80.324632006), (4.298616882, 82.724616308))
            ThreePointArc((4.298616882, 82.724616308), (3.551334429, 83.477324044), (2.798626693, 82.730041591))
        make_face(mode=Mode.SUBTRACT)
    extrude(amount=BOSS_EXTRUDE1_DEPTH)


solid = part.part
